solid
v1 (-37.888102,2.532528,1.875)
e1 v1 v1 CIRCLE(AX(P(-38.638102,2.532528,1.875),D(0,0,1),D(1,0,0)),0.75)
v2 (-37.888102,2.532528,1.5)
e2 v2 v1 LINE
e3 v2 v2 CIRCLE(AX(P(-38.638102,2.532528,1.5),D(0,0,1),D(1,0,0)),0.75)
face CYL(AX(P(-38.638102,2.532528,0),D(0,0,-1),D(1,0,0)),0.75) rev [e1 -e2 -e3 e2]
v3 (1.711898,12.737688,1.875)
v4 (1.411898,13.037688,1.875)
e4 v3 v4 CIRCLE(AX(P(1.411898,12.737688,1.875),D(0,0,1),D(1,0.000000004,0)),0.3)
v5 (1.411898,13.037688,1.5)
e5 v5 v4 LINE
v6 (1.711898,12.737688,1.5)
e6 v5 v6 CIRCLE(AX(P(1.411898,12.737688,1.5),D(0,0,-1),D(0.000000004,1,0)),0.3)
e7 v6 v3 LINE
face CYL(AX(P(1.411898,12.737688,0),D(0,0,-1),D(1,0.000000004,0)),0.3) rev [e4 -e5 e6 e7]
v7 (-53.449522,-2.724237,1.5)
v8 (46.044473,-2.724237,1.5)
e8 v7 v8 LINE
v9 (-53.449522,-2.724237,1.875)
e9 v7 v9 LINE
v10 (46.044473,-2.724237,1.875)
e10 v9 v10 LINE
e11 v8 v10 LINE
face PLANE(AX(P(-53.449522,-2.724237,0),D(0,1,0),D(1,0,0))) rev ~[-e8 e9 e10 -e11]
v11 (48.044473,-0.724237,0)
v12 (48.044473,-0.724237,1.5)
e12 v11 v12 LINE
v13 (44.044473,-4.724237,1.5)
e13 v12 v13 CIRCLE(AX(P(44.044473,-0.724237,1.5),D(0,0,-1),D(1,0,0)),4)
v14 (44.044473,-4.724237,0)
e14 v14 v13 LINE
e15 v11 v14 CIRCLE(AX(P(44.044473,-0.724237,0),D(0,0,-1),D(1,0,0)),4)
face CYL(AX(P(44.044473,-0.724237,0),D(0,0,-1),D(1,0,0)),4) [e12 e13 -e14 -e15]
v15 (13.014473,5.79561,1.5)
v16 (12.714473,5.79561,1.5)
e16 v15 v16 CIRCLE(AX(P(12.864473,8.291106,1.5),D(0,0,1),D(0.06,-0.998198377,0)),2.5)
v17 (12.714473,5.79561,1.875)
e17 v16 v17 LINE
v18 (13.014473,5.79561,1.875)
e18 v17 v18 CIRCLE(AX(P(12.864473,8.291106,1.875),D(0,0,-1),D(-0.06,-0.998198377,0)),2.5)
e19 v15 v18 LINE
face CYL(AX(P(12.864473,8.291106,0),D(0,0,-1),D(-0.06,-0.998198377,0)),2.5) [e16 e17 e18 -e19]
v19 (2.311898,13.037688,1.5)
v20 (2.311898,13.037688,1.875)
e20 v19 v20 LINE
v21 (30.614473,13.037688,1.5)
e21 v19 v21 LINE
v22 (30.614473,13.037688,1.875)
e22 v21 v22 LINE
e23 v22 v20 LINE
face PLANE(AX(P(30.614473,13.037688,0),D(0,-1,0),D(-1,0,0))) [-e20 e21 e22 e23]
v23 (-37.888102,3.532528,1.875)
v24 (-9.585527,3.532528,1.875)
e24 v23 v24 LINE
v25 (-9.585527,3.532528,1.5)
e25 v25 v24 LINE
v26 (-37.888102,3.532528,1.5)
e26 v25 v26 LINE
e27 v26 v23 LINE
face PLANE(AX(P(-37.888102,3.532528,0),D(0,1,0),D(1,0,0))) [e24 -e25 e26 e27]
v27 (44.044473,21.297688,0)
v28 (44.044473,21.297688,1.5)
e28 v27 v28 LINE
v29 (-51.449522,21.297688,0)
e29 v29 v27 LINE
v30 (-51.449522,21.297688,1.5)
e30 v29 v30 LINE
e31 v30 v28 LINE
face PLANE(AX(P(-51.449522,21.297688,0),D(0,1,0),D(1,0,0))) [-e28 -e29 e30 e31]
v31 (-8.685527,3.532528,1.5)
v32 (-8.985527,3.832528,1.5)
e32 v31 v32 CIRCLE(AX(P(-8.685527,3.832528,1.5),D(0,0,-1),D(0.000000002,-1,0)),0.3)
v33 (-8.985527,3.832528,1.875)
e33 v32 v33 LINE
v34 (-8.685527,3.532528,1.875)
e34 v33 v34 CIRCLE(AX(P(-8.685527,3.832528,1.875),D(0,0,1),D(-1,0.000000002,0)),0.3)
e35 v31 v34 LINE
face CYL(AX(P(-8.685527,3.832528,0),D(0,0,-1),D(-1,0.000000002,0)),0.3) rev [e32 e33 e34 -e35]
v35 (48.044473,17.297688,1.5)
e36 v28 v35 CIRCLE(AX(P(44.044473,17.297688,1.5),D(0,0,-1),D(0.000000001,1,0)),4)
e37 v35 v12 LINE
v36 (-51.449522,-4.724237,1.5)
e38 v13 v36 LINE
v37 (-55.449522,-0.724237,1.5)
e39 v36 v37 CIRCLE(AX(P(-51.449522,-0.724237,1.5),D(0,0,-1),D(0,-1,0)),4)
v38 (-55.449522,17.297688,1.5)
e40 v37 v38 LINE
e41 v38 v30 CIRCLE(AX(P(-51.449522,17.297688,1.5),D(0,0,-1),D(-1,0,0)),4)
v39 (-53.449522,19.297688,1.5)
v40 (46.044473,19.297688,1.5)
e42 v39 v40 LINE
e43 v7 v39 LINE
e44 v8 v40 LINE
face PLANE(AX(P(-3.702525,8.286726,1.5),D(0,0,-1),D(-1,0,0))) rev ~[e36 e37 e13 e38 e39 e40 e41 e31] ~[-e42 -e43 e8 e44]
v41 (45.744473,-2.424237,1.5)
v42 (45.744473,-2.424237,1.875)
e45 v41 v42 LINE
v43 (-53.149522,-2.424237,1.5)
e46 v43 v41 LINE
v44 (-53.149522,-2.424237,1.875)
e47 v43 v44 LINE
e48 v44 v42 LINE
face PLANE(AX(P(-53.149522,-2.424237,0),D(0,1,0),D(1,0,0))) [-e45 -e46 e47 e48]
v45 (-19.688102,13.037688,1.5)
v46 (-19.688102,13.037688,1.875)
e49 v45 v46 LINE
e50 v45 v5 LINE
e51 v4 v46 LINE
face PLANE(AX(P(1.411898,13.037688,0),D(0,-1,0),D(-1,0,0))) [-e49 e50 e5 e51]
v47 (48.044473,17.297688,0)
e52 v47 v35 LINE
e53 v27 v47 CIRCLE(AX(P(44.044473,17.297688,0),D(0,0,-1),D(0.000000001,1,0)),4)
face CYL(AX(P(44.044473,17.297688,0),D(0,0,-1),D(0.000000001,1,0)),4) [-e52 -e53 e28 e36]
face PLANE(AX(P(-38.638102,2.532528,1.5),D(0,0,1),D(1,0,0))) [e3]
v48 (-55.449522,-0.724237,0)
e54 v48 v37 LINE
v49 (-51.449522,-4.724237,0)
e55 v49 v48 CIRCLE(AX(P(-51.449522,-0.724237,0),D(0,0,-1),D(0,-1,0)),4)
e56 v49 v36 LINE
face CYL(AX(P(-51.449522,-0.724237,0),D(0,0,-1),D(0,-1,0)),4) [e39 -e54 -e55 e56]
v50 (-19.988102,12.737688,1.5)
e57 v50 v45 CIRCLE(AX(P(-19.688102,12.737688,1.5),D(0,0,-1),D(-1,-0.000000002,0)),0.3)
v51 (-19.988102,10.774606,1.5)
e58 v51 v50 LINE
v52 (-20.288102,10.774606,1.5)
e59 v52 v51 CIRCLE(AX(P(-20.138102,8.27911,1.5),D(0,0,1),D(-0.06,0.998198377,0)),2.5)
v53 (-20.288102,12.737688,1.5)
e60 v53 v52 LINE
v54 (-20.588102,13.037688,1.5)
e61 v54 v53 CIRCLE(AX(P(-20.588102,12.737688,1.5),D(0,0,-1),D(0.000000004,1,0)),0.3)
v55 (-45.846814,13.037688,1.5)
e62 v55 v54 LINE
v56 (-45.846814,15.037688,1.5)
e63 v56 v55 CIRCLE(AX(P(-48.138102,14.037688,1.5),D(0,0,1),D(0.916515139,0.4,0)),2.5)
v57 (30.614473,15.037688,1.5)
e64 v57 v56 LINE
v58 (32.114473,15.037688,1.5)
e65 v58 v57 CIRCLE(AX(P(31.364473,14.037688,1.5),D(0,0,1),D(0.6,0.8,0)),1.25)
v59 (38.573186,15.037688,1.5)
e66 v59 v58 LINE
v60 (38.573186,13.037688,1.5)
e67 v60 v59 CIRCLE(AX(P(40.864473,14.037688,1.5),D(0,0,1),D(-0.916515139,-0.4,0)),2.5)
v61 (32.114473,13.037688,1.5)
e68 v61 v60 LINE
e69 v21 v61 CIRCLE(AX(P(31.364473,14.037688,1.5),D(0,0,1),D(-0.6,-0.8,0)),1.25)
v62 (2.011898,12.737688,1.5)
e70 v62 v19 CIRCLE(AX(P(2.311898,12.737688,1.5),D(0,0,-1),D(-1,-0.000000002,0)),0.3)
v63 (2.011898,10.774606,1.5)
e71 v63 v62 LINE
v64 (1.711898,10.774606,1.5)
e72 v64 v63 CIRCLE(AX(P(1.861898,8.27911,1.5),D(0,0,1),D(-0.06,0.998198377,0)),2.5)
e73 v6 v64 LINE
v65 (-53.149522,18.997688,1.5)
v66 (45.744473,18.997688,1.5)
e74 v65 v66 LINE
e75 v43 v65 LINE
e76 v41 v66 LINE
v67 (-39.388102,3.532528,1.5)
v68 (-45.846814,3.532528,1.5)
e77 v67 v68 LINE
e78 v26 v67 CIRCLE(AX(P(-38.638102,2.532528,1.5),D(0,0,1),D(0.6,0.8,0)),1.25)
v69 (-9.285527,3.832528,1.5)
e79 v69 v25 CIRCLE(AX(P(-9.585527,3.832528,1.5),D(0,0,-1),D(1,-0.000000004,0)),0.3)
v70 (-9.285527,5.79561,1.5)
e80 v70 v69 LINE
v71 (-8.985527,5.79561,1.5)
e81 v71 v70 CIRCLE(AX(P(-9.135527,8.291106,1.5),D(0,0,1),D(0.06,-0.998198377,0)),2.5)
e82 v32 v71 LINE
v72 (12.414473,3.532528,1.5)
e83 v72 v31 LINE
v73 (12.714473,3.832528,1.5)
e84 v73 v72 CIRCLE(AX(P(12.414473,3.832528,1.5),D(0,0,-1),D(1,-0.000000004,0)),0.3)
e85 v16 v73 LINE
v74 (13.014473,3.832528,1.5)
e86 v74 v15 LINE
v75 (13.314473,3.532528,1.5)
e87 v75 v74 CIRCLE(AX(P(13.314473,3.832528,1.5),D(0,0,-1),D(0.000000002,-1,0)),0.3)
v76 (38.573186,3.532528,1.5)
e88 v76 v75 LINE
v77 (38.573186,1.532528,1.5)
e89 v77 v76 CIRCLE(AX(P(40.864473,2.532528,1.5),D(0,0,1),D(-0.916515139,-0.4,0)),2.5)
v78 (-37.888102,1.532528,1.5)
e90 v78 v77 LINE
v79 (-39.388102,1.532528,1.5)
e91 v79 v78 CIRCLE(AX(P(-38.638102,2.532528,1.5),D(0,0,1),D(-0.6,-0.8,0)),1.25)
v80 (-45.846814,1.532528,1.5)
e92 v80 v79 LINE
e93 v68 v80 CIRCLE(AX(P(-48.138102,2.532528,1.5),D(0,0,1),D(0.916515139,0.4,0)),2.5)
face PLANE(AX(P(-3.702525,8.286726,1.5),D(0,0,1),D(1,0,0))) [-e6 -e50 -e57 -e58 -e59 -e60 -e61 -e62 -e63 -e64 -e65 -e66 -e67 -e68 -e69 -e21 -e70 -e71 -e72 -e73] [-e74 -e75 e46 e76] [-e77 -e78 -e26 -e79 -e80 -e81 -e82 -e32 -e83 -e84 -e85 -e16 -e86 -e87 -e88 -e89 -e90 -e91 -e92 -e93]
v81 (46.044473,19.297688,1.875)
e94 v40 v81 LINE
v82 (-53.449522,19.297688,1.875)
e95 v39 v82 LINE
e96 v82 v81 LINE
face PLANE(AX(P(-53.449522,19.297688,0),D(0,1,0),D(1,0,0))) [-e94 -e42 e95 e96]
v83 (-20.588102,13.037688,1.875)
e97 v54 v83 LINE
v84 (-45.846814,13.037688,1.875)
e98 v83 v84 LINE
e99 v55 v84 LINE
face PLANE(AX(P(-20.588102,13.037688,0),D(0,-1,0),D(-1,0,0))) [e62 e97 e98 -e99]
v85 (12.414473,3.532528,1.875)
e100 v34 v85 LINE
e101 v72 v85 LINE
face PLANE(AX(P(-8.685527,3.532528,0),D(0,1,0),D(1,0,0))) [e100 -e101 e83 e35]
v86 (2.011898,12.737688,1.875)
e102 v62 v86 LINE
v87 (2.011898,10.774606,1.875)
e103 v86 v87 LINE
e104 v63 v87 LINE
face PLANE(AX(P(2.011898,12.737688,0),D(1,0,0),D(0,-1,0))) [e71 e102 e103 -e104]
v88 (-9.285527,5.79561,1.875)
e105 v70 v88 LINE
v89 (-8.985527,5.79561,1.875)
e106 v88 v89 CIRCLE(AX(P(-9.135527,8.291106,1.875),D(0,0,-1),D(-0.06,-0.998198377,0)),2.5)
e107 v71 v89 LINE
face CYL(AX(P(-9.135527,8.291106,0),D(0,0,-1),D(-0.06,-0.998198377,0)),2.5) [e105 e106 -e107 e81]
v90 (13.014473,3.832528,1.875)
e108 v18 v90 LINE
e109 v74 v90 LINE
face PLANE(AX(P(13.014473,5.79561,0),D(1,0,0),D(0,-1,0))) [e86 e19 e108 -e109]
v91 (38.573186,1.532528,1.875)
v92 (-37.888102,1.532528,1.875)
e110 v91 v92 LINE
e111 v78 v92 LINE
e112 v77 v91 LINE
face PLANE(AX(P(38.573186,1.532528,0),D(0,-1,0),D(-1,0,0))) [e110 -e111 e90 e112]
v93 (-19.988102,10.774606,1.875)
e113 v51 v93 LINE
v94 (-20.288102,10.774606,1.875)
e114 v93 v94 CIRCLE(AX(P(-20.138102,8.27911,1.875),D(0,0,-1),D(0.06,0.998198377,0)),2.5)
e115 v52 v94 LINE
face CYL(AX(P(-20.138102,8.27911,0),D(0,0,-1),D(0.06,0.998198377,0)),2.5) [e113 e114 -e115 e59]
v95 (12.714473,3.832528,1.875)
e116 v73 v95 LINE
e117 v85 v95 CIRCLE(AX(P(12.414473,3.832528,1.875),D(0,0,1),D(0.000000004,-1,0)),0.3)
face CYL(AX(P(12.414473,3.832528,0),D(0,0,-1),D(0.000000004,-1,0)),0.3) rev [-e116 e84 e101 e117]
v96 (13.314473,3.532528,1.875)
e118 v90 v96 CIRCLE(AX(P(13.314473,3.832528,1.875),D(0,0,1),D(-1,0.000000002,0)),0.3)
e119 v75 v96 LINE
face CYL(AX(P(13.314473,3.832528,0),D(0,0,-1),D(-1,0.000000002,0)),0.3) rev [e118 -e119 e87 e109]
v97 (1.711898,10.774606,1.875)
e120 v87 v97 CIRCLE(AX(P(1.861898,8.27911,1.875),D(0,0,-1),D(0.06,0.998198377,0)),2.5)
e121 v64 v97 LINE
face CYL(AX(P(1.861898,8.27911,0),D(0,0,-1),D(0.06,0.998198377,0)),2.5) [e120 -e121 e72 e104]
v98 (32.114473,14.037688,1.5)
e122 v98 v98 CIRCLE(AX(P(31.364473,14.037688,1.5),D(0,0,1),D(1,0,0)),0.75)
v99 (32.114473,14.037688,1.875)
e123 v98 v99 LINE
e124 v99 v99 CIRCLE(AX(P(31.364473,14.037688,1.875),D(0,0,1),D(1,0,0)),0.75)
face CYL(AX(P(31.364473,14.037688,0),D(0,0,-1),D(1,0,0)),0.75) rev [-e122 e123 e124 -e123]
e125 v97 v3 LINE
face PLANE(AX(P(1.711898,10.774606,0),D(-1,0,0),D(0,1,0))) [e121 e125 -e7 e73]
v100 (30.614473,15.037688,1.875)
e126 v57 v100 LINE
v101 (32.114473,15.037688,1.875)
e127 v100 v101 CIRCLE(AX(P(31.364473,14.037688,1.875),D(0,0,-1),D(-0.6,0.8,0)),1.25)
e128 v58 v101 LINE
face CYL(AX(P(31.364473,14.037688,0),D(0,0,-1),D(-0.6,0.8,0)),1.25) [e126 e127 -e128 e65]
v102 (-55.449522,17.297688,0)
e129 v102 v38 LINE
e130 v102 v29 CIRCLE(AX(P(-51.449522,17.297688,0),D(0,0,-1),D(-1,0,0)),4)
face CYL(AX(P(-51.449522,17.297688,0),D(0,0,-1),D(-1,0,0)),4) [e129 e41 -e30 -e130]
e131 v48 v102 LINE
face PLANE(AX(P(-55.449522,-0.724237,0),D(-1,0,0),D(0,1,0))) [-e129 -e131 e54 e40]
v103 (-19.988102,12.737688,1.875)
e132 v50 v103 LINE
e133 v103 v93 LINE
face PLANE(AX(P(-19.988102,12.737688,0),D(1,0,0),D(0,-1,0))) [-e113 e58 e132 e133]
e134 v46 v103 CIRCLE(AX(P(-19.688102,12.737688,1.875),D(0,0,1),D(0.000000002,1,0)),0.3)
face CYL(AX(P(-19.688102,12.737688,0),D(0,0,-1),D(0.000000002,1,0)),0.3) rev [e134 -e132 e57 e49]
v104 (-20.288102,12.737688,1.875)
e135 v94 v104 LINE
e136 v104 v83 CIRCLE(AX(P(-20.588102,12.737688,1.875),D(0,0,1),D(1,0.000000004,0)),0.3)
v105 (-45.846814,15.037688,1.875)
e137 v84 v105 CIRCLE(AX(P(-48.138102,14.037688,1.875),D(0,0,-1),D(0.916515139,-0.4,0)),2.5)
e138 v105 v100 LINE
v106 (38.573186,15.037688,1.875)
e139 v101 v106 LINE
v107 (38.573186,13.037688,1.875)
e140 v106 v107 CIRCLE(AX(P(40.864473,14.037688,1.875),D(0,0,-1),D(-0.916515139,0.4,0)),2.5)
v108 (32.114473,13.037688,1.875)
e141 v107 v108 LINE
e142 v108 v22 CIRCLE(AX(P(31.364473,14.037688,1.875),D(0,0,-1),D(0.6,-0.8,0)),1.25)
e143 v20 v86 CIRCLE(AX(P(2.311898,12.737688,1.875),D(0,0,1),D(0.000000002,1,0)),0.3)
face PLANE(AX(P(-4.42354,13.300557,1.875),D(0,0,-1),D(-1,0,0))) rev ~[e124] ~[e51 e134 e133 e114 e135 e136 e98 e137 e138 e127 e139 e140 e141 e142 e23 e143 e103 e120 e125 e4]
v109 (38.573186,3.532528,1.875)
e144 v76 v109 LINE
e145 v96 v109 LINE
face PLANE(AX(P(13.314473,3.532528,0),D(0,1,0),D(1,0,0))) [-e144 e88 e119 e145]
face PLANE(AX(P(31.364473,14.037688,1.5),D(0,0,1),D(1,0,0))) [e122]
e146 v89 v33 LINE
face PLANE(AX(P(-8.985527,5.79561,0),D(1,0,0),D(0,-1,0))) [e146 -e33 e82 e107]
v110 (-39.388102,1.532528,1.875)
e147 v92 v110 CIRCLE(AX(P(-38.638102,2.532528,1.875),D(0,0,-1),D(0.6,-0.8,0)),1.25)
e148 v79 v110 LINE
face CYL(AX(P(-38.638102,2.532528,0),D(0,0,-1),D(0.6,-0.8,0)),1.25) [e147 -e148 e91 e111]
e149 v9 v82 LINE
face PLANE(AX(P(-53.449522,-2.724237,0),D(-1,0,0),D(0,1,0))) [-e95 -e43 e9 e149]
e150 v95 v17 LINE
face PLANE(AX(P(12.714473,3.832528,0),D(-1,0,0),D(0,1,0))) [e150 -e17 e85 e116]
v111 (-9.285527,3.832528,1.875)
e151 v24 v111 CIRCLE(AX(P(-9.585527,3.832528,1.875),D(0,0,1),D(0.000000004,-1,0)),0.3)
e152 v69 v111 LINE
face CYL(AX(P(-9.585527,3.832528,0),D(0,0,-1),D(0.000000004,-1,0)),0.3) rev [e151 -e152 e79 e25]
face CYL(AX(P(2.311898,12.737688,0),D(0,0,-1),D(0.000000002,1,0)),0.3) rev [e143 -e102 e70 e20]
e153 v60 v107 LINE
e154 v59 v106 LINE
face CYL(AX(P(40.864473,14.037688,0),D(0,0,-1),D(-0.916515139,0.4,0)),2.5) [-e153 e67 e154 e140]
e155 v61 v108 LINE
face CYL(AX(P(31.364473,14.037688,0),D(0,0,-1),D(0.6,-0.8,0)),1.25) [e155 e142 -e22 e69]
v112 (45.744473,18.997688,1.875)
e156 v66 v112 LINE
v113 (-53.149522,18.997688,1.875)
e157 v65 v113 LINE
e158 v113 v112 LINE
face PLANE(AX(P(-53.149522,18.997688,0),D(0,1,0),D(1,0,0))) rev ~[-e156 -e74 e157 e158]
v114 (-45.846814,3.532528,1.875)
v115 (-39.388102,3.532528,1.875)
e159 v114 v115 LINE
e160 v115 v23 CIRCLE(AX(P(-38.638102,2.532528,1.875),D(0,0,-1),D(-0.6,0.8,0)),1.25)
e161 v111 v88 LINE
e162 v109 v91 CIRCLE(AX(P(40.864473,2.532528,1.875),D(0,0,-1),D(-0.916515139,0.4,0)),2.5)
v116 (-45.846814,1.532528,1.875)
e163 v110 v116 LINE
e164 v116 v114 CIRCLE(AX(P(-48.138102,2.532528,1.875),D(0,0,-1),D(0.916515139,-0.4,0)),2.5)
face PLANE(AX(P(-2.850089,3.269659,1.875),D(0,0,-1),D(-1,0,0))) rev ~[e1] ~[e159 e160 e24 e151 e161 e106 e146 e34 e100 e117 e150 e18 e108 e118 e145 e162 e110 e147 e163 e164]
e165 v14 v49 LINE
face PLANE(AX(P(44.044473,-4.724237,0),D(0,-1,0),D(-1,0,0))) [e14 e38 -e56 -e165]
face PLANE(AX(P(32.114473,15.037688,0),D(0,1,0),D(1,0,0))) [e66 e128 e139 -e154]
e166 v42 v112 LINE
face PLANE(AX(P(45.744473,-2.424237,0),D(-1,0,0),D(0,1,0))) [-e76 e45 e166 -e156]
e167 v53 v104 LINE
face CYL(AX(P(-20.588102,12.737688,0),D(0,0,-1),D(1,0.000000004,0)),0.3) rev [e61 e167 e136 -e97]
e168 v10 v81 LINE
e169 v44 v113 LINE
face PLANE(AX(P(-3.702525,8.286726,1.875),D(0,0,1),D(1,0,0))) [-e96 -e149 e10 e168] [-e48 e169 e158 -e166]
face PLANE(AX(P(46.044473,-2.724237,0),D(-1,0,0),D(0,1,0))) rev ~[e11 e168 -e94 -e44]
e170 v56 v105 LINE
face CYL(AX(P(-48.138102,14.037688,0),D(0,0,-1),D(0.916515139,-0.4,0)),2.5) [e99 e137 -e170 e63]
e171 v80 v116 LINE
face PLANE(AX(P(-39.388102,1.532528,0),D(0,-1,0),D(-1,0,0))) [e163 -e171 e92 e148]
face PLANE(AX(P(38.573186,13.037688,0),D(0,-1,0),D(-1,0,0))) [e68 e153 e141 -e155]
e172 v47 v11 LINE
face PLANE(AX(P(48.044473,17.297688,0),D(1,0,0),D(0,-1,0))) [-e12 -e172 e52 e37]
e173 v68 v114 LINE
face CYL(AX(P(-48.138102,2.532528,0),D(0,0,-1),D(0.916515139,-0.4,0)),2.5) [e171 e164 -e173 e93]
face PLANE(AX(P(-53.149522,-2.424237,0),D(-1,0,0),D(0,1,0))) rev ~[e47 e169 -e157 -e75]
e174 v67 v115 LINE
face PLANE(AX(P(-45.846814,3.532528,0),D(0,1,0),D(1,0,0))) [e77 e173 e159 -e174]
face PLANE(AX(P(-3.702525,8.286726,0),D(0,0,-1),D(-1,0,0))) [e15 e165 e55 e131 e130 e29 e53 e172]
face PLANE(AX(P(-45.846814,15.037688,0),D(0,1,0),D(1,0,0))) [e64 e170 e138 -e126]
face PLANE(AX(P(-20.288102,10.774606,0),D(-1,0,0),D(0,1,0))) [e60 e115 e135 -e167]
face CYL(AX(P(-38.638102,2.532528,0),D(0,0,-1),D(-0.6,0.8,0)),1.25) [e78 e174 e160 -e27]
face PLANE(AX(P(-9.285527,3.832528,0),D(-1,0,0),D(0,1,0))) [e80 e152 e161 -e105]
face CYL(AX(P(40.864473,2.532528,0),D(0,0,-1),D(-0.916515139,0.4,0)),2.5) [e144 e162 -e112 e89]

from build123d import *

# Parameters (mm, degrees)
SKETCH1_W             = 98.893995825
SKETCH1_H             = 21.421924981
BOSS_EXTRUDE1_DEPTH   = 1.5
SKETCH1_R             = 0.75
BOSS_EXTRUDE1_2_DEPTH = 1.5
BOSS_EXTRUDE1_3_DEPTH = 1.5
SKETCH1_9_R           = 0.75
BOSS_EXTRUDE2_DEPTH   = 1.875
SKETCH1_10_W          = 99.493995825
SKETCH1_10_H          = 22.021924981
SKETCH1_10_W_2        = 98.893995825
SKETCH1_10_H_2        = 21.421924981
BOSS_EXTRUDE3_DEPTH   = 1.875
SKETCH1_11_W          = 99.493995825
SKETCH1_11_H          = 22.021924981
BOSS_EXTRUDE4_DEPTH   = 1.5


with BuildPart() as part:
    # Sketch1 → Boss-Extrude1 (new body)
    with BuildSketch(Plane.XY):
        with Locations((-3.702524559, 8.286725718)):
            Rectangle(SKETCH1_W, SKETCH1_H)
        with BuildLine():
            ThreePointArc((2.011897659, 12.737688209), (2.099765624, 12.949820243), (2.311897659, 13.037688209))
            Line((2.311897659, 13.037688209), (30.614473354, 13.037688209))
            ThreePointArc((30.614473354, 13.037688209), (31.364473354, 12.787688209), (32.114473354, 13.037688209))
            Line((32.114473354, 13.037688209), (38.573185506, 13.037688209))
            ThreePointArc((38.573185506, 13.037688209), (43.364473354, 14.037688209), (38.573185506, 15.037688209))
            Line((38.573185506, 15.037688209), (32.114473354, 15.037688209))
            ThreePointArc((32.114473354, 15.037688209), (31.364473354, 15.287688209), (30.614473354, 15.037688209))
            Line((30.614473354, 15.037688209), (-45.846814494, 15.037688209))
            ThreePointArc((-45.846814494, 15.037688209), (-50.638102341, 14.037688209), (-45.846814494, 13.037688209))
            Line((-45.846814494, 13.037688209), (-20.588102341, 13.037688209))
            ThreePointArc((-20.588102341, 13.037688209), (-20.375970307, 12.949820243), (-20.288102341, 12.737688209))
            Line((-20.288102341, 12.737688209), (-20.288102341, 10.774606087))
            ThreePointArc((-20.288102341, 10.774606087), (-20.138102341, 5.779110144), (-19.988102341, 10.774606087))
            Line((-19.988102341, 10.774606087), (-19.988102341, 12.737688209))
            ThreePointArc((-19.988102341, 12.737688209), (-19.900234376, 12.949820243), (-19.688102341, 13.037688209))
            Line((-19.688102341, 13.037688209), (1.411897659, 13.037688209))
            ThreePointArc((1.411897659, 13.037688209), (1.624029693, 12.949820243), (1.711897659, 12.737688209))
            Line((1.711897659, 12.737688209), (1.711897659, 10.774606087))
            ThreePointArc((1.711897659, 10.774606087), (1.861897659, 5.779110144), (2.011897659, 10.774606087))
            Line((2.011897659, 10.774606087), (2.011897659, 12.737688209))
        make_face(mode=Mode.SUBTRACT)
        with BuildLine():
            Line((13.014473354, 3.832527843), (13.014473354, 5.795609965))
            ThreePointArc((13.014473354, 5.795609965), (12.864473354, 10.791105907), (12.714473354, 5.795609965))
            Line((12.714473354, 5.795609965), (12.714473354, 3.832527843))
            ThreePointArc((12.714473354, 3.832527843), (12.626605388, 3.620395809), (12.414473354, 3.532527843))
            Line((12.414473354, 3.532527843), (-8.685526646, 3.532527843))
            ThreePointArc((-8.685526646, 3.532527843), (-8.897658681, 3.620395809), (-8.985526646, 3.832527843))
            Line((-8.985526646, 3.832527843), (-8.985526646, 5.795609965))
            ThreePointArc((-8.985526646, 5.795609965), (-9.135526646, 10.791105907), (-9.285526646, 5.795609965))
            Line((-9.285526646, 5.795609965), (-9.285526646, 3.832527843))
            ThreePointArc((-9.285526646, 3.832527843), (-9.373394612, 3.620395809), (-9.585526646, 3.532527843))
            Line((-9.585526646, 3.532527843), (-37.888102341, 3.532527843))
            ThreePointArc((-37.888102341, 3.532527843), (-38.638102341, 3.782527843), (-39.388102341, 3.532527843))
            Line((-39.388102341, 3.532527843), (-45.846814494, 3.532527843))
            ThreePointArc((-45.846814494, 3.532527843), (-50.638102341, 2.532527843), (-45.846814494, 1.532527843))
            Line((-45.846814494, 1.532527843), (-39.388102341, 1.532527843))
            ThreePointArc((-39.388102341, 1.532527843), (-38.638102341, 1.282527843), (-37.888102341, 1.532527843))
            Line((-37.888102341, 1.532527843), (38.573185506, 1.532527843))
            ThreePointArc((38.573185506, 1.532527843), (43.364473354, 2.532527843), (38.573185506, 3.532527843))
            Line((38.573185506, 3.532527843), (13.314473354, 3.532527843))
            ThreePointArc((13.314473354, 3.532527843), (13.102341319, 3.620395809), (13.014473354, 3.832527843))
        make_face(mode=Mode.SUBTRACT)
    extrude(amount=BOSS_EXTRUDE1_DEPTH)



with BuildPart() as body_2:
    # Sketch1 → Boss-Extrude1 2 (new body)
    with BuildSketch(Plane.XY):
        with Locations((31.364473354, 14.037688209)):
            Circle(SKETCH1_R)
    extrude(amount=BOSS_EXTRUDE1_2_DEPTH)


with BuildPart() as body_3:
    # Sketch1 → Boss-Extrude1 3 (new body)
    with BuildSketch(Plane.XY):
        with Locations((-38.638102341, 2.532527843)):
            Circle(SKETCH1_R)
    extrude(amount=BOSS_EXTRUDE1_3_DEPTH)


with BuildPart() as part_1:
    add(part.part)

    add(body_2.part)  # Boss-Extrude2 merges body 2

    add(body_3.part)  # Boss-Extrude2 merges body 3
    # Sketch1_9 → Boss-Extrude2 (add)
    with BuildSketch(Plane.XY):
        with BuildLine():
            Line((2.011897659, 12.737688209), (2.011897659, 10.774606087))
            ThreePointArc((2.011897659, 10.774606087), (1.861897659, 5.779110144), (1.711897659, 10.774606087))
            Line((1.711897659, 10.774606087), (1.711897659, 12.737688209))
            ThreePointArc((1.711897659, 12.737688209), (1.624029693, 12.949820243), (1.411897659, 13.037688209))
            Line((1.411897659, 13.037688209), (-19.688102341, 13.037688209))
            ThreePointArc((-19.688102341, 13.037688209), (-19.900234376, 12.949820243), (-19.988102341, 12.737688209))
            Line((-19.988102341, 12.737688209), (-19.988102341, 10.774606087))
            ThreePointArc((-19.988102341, 10.774606087), (-20.138102341, 5.779110144), (-20.288102341, 10.774606087))
            Line((-20.288102341, 10.774606087), (-20.288102341, 12.737688209))
            ThreePointArc((-20.288102341, 12.737688209), (-20.375970307, 12.949820243), (-20.588102341, 13.037688209))
            Line((-20.588102341, 13.037688209), (-45.846814494, 13.037688209))
            ThreePointArc((-45.846814494, 13.037688209), (-50.638102341, 14.037688209), (-45.846814494, 15.037688209))
            Line((-45.846814494, 15.037688209), (30.614473354, 15.037688209))
            ThreePointArc((30.614473354, 15.037688209), (31.364473354, 15.287688209), (32.114473354, 15.037688209))
            Line((32.114473354, 15.037688209), (38.573185506, 15.037688209))
            ThreePointArc((38.573185506, 15.037688209), (43.364473354, 14.037688209), (38.573185506, 13.037688209))
            Line((38.573185506, 13.037688209), (32.114473354, 13.037688209))
            ThreePointArc((32.114473354, 13.037688209), (31.364473354, 12.787688209), (30.614473354, 13.037688209))
            Line((30.614473354, 13.037688209), (2.311897659, 13.037688209))
            ThreePointArc((2.311897659, 13.037688209), (2.099765624, 12.949820243), (2.011897659, 12.737688209))
        make_face()
        with Locations((31.364473354, 14.037688209)):
            Circle(SKETCH1_9_R, mode=Mode.SUBTRACT)
        with BuildLine():
            ThreePointArc((13.014473354, 3.832527843), (13.102341319, 3.620395809), (13.314473354, 3.532527843))
            Line((13.314473354, 3.532527843), (38.573185506, 3.532527843))
            ThreePointArc((38.573185506, 3.532527843), (43.364473354, 2.532527843), (38.573185506, 1.532527843))
            Line((38.573185506, 1.532527843), (-37.888102341, 1.532527843))
            ThreePointArc((-37.888102341, 1.532527843), (-38.638102341, 1.282527843), (-39.388102341, 1.532527843))
            Line((-39.388102341, 1.532527843), (-45.846814494, 1.532527843))
            ThreePointArc((-45.846814494, 1.532527843), (-50.638102341, 2.532527843), (-45.846814494, 3.532527843))
            Line((-45.846814494, 3.532527843), (-39.388102341, 3.532527843))
            ThreePointArc((-39.388102341, 3.532527843), (-38.638102341, 3.782527843), (-37.888102341, 3.532527843))
            Line((-37.888102341, 3.532527843), (-9.585526646, 3.532527843))
            ThreePointArc((-9.585526646, 3.532527843), (-9.373394612, 3.620395809), (-9.285526646, 3.832527843))
            Line((-9.285526646, 3.832527843), (-9.285526646, 5.795609965))
            ThreePointArc((-9.285526646, 5.795609965), (-9.135526646, 10.791105907), (-8.985526646, 5.795609965))
            Line((-8.985526646, 5.795609965), (-8.985526646, 3.832527843))
            ThreePointArc((-8.985526646, 3.832527843), (-8.897658681, 3.620395809), (-8.685526646, 3.532527843))
            Line((-8.685526646, 3.532527843), (12.414473354, 3.532527843))
            ThreePointArc((12.414473354, 3.532527843), (12.626605388, 3.620395809), (12.714473354, 3.832527843))
            Line((12.714473354, 3.832527843), (12.714473354, 5.795609965))
            ThreePointArc((12.714473354, 5.795609965), (12.864473354, 10.791105907), (13.014473354, 5.795609965))
            Line((13.014473354, 5.795609965), (13.014473354, 3.832527843))
        make_face()
        with Locations((-38.638102341, 2.532527843)):
            Circle(SKETCH1_9_R, mode=Mode.SUBTRACT)
    extrude(amount=BOSS_EXTRUDE2_DEPTH)

    # Sketch1_10 → Boss-Extrude3 (add)
    with BuildSketch(Plane.XY):
        with Locations((-3.702524558, 8.286725718)):
            Rectangle(SKETCH1_10_W, SKETCH1_10_H)
        with Locations((-3.702524559, 8.286725718)):
            Rectangle(SKETCH1_10_W_2, SKETCH1_10_H_2, mode=Mode.SUBTRACT)
    extrude(amount=BOSS_EXTRUDE3_DEPTH)

    # Sketch1_11 → Boss-Extrude4 (add)
    with BuildSketch(Plane.XY):
        with BuildLine():
            ThreePointArc((-55.449522471, 17.297688209), (-54.277949596, 20.126115333), (-51.449522471, 21.297688209))
            Line((-51.449522471, 21.297688209), (44.044473354, 21.297688209))
            ThreePointArc((44.044473354, 21.297688209), (46.872900478, 20.126115333), (48.044473354, 17.297688209))
            Line((48.044473354, 17.297688209), (48.044473354, -0.724236772))
            ThreePointArc((48.044473354, -0.724236772), (46.872900478, -3.552663897), (44.044473354, -4.724236772))
            Line((44.044473354, -4.724236772), (-51.449522471, -4.724236772))
            ThreePointArc((-51.449522471, -4.724236772), (-54.277949596, -3.552663897), (-55.449522471, -0.724236772))
            Line((-55.449522471, -0.724236772), (-55.449522471, 17.297688209))
        make_face()
        with Locations((-3.702524558, 8.286725718)):
            Rectangle(SKETCH1_11_W, SKETCH1_11_H, mode=Mode.SUBTRACT)
    extrude(amount=BOSS_EXTRUDE4_DEPTH)


solid = part_1.part
